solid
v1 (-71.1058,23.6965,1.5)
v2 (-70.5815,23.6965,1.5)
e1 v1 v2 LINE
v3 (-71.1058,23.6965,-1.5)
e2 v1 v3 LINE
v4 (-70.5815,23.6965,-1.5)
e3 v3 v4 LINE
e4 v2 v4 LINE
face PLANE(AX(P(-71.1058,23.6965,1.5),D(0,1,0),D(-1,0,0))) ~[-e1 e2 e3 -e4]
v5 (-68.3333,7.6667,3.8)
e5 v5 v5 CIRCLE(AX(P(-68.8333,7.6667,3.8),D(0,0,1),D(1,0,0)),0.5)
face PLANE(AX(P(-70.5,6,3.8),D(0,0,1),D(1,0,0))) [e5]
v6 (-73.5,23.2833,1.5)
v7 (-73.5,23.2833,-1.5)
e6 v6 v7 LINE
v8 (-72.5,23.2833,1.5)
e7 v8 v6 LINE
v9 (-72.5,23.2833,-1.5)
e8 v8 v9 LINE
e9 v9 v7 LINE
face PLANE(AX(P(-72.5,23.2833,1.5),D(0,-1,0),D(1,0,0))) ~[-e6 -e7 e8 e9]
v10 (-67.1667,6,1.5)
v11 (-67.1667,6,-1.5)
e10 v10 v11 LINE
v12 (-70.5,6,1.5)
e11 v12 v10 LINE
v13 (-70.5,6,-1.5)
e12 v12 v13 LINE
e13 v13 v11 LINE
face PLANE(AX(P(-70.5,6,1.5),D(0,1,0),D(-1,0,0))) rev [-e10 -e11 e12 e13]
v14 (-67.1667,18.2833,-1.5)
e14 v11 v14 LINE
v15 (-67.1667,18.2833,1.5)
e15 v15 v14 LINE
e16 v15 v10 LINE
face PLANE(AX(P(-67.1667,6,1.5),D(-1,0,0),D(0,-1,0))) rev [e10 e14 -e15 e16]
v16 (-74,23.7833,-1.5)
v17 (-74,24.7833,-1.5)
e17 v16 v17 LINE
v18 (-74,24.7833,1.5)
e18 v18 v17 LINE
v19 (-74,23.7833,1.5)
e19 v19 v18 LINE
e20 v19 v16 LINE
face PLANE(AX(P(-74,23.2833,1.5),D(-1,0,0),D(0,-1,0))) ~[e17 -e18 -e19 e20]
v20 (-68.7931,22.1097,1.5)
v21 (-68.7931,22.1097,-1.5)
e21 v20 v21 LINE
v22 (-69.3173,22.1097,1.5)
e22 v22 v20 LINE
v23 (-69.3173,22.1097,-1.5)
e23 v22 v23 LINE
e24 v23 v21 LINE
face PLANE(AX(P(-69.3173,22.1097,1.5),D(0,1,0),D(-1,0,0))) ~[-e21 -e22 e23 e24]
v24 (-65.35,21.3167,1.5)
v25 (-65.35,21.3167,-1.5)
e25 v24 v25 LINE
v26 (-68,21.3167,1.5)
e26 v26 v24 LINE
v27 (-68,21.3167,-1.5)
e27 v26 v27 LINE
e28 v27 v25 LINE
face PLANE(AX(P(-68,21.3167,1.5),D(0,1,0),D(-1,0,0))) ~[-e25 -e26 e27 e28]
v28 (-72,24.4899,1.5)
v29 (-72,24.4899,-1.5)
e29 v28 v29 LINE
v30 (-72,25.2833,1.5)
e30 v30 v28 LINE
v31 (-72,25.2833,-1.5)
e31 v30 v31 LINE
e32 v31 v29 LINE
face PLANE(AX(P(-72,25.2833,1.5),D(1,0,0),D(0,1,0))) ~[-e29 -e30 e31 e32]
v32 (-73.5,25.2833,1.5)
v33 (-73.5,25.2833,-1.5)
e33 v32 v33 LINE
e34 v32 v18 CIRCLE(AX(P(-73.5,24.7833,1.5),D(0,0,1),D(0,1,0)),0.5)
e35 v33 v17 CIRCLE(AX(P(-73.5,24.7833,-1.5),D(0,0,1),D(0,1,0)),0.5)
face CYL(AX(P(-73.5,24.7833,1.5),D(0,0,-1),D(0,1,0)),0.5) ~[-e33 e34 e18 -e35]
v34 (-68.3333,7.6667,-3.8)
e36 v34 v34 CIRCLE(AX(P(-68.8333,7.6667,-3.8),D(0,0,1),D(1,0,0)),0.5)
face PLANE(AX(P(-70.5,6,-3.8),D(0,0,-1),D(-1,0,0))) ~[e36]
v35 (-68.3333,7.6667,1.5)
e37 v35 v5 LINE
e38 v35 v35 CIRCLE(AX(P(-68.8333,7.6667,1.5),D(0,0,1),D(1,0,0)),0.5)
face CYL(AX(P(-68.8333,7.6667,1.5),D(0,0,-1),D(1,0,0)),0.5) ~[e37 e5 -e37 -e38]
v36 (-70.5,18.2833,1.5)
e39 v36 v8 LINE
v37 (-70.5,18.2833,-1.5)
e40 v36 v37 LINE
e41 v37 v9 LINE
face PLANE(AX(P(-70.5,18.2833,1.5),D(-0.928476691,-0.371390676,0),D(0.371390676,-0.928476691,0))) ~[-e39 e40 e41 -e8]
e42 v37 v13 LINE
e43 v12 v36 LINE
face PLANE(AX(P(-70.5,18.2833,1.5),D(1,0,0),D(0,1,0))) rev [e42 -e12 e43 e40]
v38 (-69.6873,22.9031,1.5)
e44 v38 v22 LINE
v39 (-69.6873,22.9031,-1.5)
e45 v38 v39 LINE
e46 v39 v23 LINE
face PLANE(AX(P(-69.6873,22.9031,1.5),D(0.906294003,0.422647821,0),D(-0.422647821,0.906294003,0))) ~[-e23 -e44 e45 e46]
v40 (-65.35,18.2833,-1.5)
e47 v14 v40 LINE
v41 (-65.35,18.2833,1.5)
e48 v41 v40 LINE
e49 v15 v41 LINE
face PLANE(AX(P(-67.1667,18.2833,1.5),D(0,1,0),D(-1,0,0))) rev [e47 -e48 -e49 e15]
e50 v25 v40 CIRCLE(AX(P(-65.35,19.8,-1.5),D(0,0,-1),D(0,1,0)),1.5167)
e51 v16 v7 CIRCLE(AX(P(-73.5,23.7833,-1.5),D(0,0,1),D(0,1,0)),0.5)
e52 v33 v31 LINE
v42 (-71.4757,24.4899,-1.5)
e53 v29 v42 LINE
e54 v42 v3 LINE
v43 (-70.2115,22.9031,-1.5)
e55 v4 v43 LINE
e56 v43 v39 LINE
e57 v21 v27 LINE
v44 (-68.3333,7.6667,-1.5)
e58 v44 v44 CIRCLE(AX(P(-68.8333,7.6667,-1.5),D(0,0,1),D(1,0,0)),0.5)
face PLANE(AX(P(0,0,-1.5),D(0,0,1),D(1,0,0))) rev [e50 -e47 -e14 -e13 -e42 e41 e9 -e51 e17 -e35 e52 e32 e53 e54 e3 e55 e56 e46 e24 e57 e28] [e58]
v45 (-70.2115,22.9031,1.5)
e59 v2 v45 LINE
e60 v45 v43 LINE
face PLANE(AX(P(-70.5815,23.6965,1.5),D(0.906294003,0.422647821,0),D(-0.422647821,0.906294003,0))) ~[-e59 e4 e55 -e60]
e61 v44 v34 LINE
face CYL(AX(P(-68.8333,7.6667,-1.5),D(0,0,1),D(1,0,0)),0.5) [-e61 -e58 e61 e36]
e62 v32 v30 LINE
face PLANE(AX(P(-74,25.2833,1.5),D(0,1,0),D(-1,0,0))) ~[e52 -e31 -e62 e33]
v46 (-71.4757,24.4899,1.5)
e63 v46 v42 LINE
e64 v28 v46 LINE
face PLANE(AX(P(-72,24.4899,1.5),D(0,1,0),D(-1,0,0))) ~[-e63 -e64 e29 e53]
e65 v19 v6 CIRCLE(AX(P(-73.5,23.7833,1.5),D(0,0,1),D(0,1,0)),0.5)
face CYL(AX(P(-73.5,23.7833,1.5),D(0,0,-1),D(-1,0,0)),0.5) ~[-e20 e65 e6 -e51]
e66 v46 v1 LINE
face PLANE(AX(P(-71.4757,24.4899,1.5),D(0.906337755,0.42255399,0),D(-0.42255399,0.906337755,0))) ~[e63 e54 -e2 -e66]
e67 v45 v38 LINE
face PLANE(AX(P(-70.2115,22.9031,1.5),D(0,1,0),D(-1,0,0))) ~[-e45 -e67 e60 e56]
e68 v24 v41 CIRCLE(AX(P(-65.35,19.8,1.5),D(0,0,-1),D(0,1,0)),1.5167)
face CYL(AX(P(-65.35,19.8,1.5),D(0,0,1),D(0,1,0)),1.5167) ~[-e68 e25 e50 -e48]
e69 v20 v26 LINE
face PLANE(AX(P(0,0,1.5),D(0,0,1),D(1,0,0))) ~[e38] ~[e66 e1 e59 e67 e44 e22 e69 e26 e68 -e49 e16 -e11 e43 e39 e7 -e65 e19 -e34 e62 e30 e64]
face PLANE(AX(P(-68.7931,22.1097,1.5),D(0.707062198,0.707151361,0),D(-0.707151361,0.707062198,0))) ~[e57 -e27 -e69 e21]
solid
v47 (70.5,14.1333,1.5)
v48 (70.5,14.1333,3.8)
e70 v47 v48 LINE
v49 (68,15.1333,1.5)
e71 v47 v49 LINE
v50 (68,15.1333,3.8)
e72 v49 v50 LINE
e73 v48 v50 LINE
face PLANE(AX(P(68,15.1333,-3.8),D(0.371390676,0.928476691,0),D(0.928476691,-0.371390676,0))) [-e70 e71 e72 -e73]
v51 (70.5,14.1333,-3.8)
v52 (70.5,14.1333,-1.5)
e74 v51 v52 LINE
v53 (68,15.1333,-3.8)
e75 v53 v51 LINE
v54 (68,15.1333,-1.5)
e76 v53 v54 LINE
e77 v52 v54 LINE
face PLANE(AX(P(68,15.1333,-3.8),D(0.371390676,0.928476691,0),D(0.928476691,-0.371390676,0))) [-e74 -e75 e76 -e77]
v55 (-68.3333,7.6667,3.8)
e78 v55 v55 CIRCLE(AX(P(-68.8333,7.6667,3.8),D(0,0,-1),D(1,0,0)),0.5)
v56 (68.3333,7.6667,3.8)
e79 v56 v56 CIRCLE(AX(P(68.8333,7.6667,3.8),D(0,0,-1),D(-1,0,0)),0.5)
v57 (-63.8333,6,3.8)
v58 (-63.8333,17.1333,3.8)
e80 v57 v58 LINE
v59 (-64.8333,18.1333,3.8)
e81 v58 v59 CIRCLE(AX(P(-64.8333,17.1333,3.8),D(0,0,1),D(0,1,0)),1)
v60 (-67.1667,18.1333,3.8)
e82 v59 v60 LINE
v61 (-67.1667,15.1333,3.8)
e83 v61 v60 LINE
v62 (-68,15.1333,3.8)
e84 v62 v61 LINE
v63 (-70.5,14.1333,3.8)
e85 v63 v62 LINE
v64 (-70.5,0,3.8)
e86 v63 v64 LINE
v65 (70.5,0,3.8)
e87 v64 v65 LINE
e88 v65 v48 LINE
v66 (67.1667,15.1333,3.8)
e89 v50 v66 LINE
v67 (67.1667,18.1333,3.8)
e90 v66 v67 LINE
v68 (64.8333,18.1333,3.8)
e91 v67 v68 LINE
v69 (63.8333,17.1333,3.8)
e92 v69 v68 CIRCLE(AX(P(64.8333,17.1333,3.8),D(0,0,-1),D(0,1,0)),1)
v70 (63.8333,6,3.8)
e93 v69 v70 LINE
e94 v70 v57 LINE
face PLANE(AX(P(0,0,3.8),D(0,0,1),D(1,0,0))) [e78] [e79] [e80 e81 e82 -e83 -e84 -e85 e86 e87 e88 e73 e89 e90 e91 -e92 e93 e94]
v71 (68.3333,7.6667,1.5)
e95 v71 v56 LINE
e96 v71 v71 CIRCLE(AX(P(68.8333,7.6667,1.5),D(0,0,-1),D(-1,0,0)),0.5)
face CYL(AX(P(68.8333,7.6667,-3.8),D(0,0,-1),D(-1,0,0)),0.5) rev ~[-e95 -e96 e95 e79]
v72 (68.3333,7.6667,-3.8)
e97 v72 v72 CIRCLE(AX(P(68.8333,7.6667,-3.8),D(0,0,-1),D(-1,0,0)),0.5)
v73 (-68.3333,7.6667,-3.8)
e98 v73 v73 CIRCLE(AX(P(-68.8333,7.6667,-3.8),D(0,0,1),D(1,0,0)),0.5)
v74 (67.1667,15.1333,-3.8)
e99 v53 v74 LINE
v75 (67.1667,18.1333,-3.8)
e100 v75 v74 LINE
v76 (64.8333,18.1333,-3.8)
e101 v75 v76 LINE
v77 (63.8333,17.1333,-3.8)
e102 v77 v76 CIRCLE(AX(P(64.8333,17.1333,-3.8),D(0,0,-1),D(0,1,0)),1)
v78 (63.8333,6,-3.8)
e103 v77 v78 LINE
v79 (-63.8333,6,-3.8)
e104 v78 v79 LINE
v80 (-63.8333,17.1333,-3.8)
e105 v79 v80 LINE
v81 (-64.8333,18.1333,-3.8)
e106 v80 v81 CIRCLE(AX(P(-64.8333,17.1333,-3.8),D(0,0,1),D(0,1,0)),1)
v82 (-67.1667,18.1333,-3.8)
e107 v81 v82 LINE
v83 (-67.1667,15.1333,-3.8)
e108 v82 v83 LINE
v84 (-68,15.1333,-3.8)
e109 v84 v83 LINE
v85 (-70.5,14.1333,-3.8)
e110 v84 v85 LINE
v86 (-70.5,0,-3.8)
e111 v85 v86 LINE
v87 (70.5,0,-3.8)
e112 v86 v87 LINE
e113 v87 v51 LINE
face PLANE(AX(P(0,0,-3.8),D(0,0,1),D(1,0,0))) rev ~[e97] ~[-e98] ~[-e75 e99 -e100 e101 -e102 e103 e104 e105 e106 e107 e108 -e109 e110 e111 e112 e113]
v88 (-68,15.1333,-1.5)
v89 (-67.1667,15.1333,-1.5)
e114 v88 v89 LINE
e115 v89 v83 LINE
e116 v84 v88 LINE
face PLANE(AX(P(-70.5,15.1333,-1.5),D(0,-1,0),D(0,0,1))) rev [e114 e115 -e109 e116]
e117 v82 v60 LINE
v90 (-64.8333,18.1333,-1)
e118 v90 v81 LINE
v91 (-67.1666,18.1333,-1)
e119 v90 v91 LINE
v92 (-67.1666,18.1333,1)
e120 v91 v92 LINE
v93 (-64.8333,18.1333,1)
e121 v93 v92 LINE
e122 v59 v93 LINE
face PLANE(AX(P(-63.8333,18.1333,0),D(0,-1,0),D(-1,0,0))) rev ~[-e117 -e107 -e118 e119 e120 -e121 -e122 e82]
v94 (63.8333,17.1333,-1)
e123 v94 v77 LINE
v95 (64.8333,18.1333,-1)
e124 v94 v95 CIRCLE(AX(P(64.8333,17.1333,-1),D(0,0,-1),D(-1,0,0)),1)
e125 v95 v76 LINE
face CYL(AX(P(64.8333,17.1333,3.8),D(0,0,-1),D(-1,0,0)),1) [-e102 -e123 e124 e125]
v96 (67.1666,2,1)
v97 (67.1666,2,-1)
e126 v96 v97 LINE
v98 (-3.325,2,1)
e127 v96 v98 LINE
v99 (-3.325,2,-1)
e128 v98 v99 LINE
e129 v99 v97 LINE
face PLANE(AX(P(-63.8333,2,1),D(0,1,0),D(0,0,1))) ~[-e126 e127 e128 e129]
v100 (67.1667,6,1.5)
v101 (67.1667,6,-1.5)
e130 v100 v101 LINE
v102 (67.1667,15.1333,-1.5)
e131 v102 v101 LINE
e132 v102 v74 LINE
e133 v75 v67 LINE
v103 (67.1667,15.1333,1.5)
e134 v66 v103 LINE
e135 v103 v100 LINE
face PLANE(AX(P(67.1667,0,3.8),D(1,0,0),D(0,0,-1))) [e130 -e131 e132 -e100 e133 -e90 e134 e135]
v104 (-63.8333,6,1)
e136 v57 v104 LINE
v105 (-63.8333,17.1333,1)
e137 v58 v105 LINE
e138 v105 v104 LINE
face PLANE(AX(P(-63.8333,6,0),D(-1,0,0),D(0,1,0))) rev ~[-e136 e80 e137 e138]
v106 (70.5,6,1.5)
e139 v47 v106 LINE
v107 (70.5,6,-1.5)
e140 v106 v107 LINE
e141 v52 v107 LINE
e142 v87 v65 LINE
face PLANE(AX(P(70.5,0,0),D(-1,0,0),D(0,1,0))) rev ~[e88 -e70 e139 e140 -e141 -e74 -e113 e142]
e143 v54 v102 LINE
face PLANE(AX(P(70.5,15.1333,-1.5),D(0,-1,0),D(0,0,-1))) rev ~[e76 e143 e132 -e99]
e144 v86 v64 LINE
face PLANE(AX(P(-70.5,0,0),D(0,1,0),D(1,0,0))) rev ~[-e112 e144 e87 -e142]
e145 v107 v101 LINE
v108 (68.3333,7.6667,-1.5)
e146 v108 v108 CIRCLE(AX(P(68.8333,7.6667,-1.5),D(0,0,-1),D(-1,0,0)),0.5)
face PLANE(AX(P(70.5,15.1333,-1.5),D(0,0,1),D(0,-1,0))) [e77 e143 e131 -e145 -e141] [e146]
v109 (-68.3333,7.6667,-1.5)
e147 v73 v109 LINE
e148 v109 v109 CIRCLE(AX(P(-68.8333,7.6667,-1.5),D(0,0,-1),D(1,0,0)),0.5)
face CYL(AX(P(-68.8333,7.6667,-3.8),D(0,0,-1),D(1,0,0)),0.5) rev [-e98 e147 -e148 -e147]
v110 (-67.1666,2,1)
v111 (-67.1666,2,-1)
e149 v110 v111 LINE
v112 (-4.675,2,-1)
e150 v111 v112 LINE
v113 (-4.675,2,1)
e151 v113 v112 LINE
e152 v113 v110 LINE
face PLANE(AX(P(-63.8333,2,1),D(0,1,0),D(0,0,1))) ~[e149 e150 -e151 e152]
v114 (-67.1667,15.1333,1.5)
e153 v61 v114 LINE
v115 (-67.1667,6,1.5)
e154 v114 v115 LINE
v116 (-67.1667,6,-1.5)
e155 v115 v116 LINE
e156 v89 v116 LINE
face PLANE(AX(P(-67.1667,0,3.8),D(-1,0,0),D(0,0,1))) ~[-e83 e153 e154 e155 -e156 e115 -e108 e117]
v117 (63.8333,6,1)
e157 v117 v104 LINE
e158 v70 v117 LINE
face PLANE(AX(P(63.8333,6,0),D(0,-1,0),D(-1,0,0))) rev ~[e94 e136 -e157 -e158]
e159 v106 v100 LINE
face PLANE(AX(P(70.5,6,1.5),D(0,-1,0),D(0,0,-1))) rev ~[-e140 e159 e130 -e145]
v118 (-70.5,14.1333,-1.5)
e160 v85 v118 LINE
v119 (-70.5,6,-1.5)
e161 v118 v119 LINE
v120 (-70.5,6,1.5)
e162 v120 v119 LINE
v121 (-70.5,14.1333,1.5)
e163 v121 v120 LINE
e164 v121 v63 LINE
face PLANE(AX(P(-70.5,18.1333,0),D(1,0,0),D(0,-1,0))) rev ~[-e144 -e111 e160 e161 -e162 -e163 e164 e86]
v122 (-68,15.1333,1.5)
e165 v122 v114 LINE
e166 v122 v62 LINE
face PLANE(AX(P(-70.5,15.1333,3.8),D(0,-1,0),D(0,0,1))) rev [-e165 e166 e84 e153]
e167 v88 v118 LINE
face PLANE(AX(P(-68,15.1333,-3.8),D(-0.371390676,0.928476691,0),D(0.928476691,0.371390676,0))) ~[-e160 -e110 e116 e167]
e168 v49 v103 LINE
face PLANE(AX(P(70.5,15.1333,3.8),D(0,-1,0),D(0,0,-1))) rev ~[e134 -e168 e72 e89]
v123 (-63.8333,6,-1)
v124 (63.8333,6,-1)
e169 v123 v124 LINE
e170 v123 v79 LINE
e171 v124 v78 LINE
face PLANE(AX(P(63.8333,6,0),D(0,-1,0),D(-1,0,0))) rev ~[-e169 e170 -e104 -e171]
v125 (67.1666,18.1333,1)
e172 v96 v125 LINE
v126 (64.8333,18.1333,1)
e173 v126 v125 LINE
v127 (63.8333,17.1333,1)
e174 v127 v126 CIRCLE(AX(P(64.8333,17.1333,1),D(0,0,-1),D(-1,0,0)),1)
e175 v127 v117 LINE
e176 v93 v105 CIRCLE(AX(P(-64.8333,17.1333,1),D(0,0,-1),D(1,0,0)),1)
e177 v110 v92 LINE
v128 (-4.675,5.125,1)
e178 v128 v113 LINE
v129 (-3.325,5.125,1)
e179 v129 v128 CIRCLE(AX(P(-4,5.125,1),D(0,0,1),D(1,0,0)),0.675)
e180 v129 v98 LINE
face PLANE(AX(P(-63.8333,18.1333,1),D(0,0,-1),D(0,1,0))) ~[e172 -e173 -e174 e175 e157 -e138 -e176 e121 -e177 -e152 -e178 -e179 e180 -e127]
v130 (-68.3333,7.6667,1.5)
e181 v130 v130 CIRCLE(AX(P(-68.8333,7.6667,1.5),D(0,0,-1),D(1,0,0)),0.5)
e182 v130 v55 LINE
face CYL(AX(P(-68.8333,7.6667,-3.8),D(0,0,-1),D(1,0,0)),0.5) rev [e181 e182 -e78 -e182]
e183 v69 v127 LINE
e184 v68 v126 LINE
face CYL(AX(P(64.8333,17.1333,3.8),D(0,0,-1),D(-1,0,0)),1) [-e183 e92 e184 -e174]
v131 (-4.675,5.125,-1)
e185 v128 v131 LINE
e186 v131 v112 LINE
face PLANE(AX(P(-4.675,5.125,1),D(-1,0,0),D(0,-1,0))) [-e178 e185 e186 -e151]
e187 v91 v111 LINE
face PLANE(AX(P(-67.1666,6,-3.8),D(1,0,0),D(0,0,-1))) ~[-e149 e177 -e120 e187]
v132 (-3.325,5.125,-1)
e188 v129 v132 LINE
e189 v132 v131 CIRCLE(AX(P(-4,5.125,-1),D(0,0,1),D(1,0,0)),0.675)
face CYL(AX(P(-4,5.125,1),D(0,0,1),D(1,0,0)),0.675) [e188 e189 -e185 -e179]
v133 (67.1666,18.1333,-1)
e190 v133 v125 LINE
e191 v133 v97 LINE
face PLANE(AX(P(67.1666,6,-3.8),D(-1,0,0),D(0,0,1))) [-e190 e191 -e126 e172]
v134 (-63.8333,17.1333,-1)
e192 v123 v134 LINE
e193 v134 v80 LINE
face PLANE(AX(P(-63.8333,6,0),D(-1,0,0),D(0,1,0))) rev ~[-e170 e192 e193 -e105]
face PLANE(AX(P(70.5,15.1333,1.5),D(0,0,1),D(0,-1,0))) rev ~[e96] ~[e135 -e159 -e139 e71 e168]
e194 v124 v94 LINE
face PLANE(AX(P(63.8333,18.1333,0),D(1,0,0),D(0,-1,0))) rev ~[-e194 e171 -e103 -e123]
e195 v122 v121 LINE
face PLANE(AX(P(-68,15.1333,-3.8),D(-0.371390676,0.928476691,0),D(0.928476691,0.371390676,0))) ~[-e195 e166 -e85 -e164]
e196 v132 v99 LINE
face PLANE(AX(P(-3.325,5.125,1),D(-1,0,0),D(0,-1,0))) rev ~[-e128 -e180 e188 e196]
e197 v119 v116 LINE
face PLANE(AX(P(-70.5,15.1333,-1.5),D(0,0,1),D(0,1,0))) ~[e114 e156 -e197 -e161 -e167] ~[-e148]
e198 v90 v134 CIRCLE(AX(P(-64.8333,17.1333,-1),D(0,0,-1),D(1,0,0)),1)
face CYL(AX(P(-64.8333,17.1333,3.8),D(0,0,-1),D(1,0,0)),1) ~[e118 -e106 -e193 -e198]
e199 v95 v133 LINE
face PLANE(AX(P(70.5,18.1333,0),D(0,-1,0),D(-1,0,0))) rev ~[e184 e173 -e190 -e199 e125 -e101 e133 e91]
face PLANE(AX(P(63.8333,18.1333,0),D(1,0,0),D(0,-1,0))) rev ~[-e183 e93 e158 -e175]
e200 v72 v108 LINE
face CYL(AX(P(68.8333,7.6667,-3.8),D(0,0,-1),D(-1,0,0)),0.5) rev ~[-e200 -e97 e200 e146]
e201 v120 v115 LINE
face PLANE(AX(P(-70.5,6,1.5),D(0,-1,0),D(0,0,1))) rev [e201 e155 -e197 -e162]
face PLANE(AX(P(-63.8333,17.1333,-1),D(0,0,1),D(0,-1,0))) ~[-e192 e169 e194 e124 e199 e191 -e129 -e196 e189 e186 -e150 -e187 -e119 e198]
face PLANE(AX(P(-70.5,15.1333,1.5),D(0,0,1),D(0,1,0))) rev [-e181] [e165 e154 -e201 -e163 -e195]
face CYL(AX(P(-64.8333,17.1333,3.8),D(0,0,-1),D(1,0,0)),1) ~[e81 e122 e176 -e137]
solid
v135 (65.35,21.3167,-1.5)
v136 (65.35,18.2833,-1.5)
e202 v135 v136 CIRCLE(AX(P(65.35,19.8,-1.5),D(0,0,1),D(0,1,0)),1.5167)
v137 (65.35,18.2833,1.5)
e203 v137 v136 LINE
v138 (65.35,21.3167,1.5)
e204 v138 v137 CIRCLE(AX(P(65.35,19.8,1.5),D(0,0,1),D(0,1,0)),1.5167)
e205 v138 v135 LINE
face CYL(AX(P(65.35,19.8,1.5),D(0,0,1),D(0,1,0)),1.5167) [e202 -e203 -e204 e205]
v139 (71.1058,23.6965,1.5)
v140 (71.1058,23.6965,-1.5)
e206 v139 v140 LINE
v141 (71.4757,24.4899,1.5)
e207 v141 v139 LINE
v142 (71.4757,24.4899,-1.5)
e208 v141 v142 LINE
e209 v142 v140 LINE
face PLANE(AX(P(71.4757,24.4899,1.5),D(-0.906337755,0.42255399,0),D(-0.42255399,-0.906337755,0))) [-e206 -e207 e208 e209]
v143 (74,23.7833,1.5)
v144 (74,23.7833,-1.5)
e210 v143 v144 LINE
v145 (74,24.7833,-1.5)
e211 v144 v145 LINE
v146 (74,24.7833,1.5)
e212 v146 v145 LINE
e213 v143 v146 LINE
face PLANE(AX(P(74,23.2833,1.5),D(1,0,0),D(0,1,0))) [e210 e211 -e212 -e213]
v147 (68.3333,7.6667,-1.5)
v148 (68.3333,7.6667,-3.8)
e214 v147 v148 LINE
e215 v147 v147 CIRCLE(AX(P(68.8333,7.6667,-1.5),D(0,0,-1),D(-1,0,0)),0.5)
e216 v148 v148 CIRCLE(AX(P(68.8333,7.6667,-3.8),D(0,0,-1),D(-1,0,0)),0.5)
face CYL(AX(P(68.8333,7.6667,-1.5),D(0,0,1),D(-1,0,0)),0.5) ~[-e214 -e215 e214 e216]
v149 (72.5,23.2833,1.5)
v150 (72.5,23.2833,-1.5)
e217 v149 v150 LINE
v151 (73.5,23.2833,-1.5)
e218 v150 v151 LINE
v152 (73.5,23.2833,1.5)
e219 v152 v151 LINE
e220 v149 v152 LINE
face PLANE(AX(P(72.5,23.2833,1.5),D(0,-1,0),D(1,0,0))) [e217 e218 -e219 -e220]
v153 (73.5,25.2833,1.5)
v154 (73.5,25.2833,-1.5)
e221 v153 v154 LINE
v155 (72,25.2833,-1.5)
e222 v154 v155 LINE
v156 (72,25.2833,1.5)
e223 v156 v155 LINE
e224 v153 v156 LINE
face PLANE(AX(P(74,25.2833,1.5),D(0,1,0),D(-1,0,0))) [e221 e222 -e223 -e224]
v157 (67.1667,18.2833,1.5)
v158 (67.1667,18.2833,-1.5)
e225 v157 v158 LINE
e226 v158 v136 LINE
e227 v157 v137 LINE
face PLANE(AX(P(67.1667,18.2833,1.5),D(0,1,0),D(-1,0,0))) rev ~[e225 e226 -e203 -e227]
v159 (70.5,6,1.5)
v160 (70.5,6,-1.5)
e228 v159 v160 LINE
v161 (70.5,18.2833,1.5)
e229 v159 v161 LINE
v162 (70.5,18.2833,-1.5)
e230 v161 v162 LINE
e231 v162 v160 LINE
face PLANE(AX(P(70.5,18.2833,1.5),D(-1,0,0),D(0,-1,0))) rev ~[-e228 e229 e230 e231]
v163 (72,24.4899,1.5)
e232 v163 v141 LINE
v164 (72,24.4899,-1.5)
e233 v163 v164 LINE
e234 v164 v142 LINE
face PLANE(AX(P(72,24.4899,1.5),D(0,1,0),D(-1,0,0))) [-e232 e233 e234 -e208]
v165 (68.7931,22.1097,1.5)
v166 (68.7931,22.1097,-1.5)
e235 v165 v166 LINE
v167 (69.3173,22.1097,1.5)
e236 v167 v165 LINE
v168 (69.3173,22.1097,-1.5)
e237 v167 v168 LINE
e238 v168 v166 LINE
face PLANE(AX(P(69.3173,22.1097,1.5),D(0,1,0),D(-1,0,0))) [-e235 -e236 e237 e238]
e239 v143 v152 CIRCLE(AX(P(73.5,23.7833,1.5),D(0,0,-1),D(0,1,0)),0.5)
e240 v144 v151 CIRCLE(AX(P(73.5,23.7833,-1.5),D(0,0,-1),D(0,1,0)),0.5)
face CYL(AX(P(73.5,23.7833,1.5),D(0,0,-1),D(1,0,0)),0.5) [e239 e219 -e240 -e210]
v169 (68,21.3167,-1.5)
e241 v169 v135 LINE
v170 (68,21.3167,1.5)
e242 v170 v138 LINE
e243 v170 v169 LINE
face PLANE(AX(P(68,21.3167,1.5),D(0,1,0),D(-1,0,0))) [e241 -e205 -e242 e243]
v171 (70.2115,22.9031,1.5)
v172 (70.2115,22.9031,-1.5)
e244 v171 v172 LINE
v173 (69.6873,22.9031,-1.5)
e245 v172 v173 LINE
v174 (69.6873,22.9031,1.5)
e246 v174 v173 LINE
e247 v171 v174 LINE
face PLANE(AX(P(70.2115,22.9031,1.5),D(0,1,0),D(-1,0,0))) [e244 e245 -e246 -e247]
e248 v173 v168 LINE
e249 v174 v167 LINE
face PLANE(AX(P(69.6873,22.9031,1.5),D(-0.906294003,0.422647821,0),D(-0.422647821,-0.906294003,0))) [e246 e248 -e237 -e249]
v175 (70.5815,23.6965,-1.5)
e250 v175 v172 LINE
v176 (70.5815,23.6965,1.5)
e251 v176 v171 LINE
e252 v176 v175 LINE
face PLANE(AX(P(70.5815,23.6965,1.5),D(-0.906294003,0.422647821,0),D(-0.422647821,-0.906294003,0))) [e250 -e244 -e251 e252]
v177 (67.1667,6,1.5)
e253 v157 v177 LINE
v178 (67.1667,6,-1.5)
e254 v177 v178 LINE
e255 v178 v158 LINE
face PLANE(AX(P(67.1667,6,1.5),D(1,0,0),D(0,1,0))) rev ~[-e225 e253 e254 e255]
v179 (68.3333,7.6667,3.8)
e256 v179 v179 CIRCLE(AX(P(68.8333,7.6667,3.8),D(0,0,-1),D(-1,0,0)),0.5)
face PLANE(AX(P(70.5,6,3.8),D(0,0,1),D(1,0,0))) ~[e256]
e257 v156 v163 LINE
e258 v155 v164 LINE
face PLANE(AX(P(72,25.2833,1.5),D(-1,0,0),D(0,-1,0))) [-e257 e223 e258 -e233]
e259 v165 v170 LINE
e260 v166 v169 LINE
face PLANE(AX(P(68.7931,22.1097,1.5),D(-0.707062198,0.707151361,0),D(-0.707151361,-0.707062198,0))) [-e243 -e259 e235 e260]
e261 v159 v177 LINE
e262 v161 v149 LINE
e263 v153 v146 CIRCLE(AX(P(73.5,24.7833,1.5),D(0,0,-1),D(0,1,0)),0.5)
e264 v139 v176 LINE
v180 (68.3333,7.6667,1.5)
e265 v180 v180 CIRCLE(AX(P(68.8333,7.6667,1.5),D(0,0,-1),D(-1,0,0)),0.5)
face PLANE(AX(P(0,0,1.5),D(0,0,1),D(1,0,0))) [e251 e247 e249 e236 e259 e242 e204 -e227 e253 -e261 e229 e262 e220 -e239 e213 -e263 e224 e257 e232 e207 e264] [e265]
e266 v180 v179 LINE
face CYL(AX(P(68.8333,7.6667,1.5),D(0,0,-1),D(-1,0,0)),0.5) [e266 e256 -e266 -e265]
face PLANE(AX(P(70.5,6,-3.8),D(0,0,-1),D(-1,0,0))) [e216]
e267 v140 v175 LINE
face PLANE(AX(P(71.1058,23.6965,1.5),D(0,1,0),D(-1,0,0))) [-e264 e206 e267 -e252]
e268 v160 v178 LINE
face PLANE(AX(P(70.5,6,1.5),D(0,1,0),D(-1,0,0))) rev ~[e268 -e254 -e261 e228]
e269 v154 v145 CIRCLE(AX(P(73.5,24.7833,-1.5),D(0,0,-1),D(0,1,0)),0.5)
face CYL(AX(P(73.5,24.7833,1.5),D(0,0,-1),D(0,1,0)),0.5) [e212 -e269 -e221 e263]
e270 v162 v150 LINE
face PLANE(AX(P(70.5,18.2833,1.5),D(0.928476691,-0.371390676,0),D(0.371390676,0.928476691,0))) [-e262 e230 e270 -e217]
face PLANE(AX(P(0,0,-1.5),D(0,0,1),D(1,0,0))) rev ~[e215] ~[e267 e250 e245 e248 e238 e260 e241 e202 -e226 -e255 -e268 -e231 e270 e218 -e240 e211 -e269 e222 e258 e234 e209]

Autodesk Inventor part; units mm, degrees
ref_plane "YZ Plane" through (0, 0, 0) normal (1, 0, 0) x (0, 1, 0)
ref_plane "XZ Plane" through (0, 0, 0) normal (0, 1, 0) x (-1, 0, 0)
ref_plane "XY Plane" through (0, 0, 0) normal (0, 0, 1) x (1, 0, 0)
sketch "Sketch1" plane through (0, 0, 0) normal (0, 0, 1) x (1, 0, 0)
  line L0 (-70.5, 18.1333) -> (-70.5, 0)
  line L1 (-70.5, 0) -> (70.5, 0)
  line L2 (70.5, 0) -> (70.5, 18.1333)
  line L3 (70.5, 18.1333) -> (63.8333, 18.1333)
  line L4 (63.8333, 18.1333) -> (63.8333, 6)
  line L5 (63.8333, 6) -> (-63.8333, 6)
  line L6 (-63.8333, 6) -> (-63.8333, 18.1333)
  line L7 (-63.8333, 18.1333) -> (-70.5, 18.1333)
  point P0 (0, 0)
  point P1 (0, 0)
  dimension "d0" = 6.6667
  dimension "d1" = 141
  dimension "d2" = 6
  dimension "d3" = 18.1333
extrude "Extrusion1" add sketch "Sketch1" along normal mid plane 7.6
sketch "Sketch2" plane through (70.5, 0, 3.8) normal (1, 0, 0) x (0, 0, -1)
  line L0 (2.3, 15.1333) -> (2.3, 6)
  line L1 (0, 15.1333) -> (2.3, 15.1333)
  line L2 (5.3, 15.1333) -> (5.3, 6)
  line L3 (5.3, 15.1333) -> (7.6, 15.1333)
  line L4 (7.6, 18.1333) -> (0, 18.1333) projected
  line L5 (0, 0) -> (0, 18.1333) projected
  line L6 (7.6, 18.1333) -> (0, 18.1333) projected
  line L7 (0, 0) -> (0, 18.1333) projected
  line L8 (7.6, 0) -> (0, 0) projected
  line L9 (7.6, 18.1333) -> (7.6, 0) projected
  line L10 (7.6, 18.1333) -> (7.6, 0) projected
  line L11 (7.6, 0) -> (0, 0) projected
  line L12 (2.3, 6) -> (5.3, 6)
  line L13 (7.6, 15.1333) -> (7.6, 18.1333)
  line L14 (7.6, 18.1333) -> (0, 18.1333)
  line L15 (0, 15.1333) -> (0, 18.1333)
  point P0 (3.8, 0)
  point P1 (3.8, 6)
  point P2 (3.8, 0)
  dimension "d6" = 3
  dimension "d7" = 3
  dimension "d8" = 6
extrude "Extrusion2" cut sketch "Sketch2" against normal blind 3.3333 contours L1 L5 L4 L9 L3 L2 L12 L0
sketch "Sketch3" plane through (0, 0, -3.8) normal (0, 0, -1) x (-1, 0, 0)
  line L0 (-70.5, 15.1333) -> (-67.1667, 15.1333) projected
  line L1 (-68, 15.1333) -> (-70.5, 14.1333)
  line L2 (-70.5, 15.1333) -> (-70.5, 6) projected
  line L3 (-70.5, 14.1333) -> (-70.5, 15.1333)
  line L4 (-70.5, 15.1333) -> (-68, 15.1333)
  point P0 (0, 0)
  dimension "d11" = 2.5
  dimension "d12" = 1
extrude "Extrusion3" cut sketch "Sketch3" against normal through all
sketch "Sketch4" plane through (0, 0, -3.8) normal (0, 0, -1) x (-1, 0, 0)
  circle A0 centre (-68.8333, 7.6667) radius 0.5
  line L0 (-70.5, 0) -> (-70.5, 14.1333) projected
  line L1 (-70.5, 14.1333) -> (-67.1667, 14.1333) construction
  line L2 (-70.5, 6) -> (-67.1667, 6) projected
  line L3 (-67.1667, 15.1333) -> (-67.1667, 6) projected
  point P0 (0, 0)
  point P1 (-68.8333, 14.1333)
  dimension "d15" = 1
  dimension "d16" = 1.6667
extrude "Extrusion4" cut sketch "Sketch4" against normal through all
fillet "Fillet2" radius 1 1 edges at (63.8333, 18.1333, 0)
sketch "Sketch7" plane through (63.8333, 6, -3.8) normal (-1, 0, 0) x (0, 0, 1)
  line L0 (2.8, 12.1333) -> (4.8, 12.1333)
  line L1 (4.8, 12.1333) -> (4.8, -4)
  line L2 (4.8, -4) -> (2.8, -4)
  line L3 (2.8, -4) -> (2.8, 12.1333)
  line L4 (0, 0) -> (7.6, 0) projected
  line L5 (0, 11.1333) -> (7.6, 11.1333) projected
  line L6 (7.6, 12.1333) -> (0, 12.1333) projected
  point P0 (3.8, -6)
  point P1 (3.8, -4)
  point P2 (3.8, 11.1333)
  dimension "d33" = 4
  dimension "d34" = 2
extrude "Extrusion7" cut sketch "Sketch7" against normal blind 3.3333
mirror "Mirror2" about plane through (0, 0, 0) normal (1, 0, 0) of "Extrusion2", "Extrusion3", "Extrusion4", "Fillet2", "Extrusion7"
sketch "Sketch5" plane through (0, 0, 0) normal (0, 0, 1) x (1, 0, 0)
  line L0 (70.5, 18.2833) -> (70.5, 6)
  line L1 (70.5, 6) -> (67.1667, 6)
  line L2 (67.1667, 6) -> (67.1667, 18.2833)
  line L3 (70.5, 18.2833) -> (72.5, 23.2833)
  line L4 (72.5, 23.2833) -> (74, 23.2833)
  line L5 (74, 23.2833) -> (74, 25.2833)
  line L6 (74, 25.2833) -> (72, 25.2833)
  line L7 (68, 21.3167) -> (65.35, 21.3167)
  line L8 (67.1667, 18.2833) -> (65.35, 18.2833)
  arc A0 (65.35, 21.3167) -> (65.35, 18.2833) centre (65.35, 19.8) ccw
  line L9 (63.8333, 18.1333) -> (67.1667, 18.1333) projected
  line L10 (70.5, 6) -> (67.1667, 6) projected
  line L11 (67.1667, 15.1333) -> (67.1667, 6) projected
  line L12 (70.5, 14.1333) -> (70.5, 0) projected
  line L13 (63.8333, 6) -> (63.8333, 18.1333) projected
  line L14 (70.5, 0) -> (-70.5, 0) projected
  line L15 (70.5, 0) -> (70.5, 14.1333) projected
  line L16 (70.5, 2) -> (-70.5, 2) construction
  line L17 (-70.5, 0) -> (-70.5, 18.1333) projected
  line L18 (-63.8333, 6) -> (63.8333, 6) projected
  line L19 (72, 25.2833) -> (72, 24.4899)
  line L20 (72, 24.4899) -> (71.4757, 24.4899)
  line L21 (71.4757, 24.4899) -> (71.1058, 23.6965)
  line L22 (71.1058, 23.6965) -> (70.5815, 23.6965)
  line L23 (70.5815, 23.6965) -> (70.2115, 22.9031)
  line L24 (70.2115, 22.9031) -> (69.6873, 22.9031)
  line L25 (69.6873, 22.9031) -> (69.3173, 22.1097)
  line L26 (69.3173, 22.1097) -> (68.7931, 22.1097)
  line L27 (68.7931, 22.1097) -> (68, 21.3167)
  point P0 (0, 0)
  point P1 (68, 15.1333)
  point P2 (-70.5, 14.1333)
  point P3 (66.2583, 18.2833)
  dimension "d19" = 0.15
  dimension "d22" = 4
  dimension "d23" = 17.8
  dimension "d42" = 5
  dimension "d43" = 1.5
  dimension "d44" = 2
  dimension "d45" = 2
  dimension "d46" = 90
  dimension "d49" = 0.7934
  dimension "d50" = 0.7934
  dimension "d51" = 0.7934
  dimension "d52" = 0.7934
  dimension "d53" = 135
  dimension "d54" = 2
  dimension "d55" = 115
extrude "Extrusion5" add sketch "Sketch5" against normal up to surface (3 mm away) from surface at 1.5 separate body
fillet "Fillet1" radius 0.5 2 edges at (74, 25.2833, 0) (74, 23.2833, 0)
sketch "Sketch6" plane through (70.5, 6, -1.5) normal (0, 0, -1) x (-1, 0, 0)
  circle A0 centre (1.6667, 1.6667) radius 0.5
  circle A1 centre (1.6667, 1.6667) radius 0.5 projected
  point P0 (70.5, -6)
extrude "Extrusion6" add sketch "Sketch6" along normal up to surface (2.3 mm away) bodies 2
mirror "Mirror4" about plane through (0, 0, 0) normal (0, 0, 1) of "Extrusion6" bodies 2
mirror "Mirror3" about plane through (0, 0, 0) normal (1, 0, 0) of "Extrusion5", "Fillet1", "Extrusion6", "Mirror4" bodies 2
sketch "Sketch8" plane through (-63.8333, 6, 3.8) normal (0, 1, 0) x (1, 0, 0)
  line L0 (127.6667, 2.8) -> (0, 2.8)
  line L1 (0, 2.8) -> (0, 4.8)
  line L2 (0, 4.8) -> (127.6667, 4.8)
  line L3 (127.6667, 4.8) -> (127.6667, 2.8)
  point P0 (63.8333, 3.8)
extrude "Extrusion8" cut sketch "Sketch8" against normal up to surface (4 mm away) bodies 1
sketch "Sketch9" plane through (0, 0, 0) normal (0, 0, 1) x (1, 0, 0)
  line L0 (67.1667, 2) -> (-67.1667, 2) projected
  line L1 (-3.325, 2) -> (-4.675, 2)
  line L2 (-4.675, 5.125) -> (-4.675, 2)
  line L3 (-3.325, 5.125) -> (-3.325, 2)
  arc A0 (-3.325, 5.125) -> (-4.675, 5.125) centre (-4, 5.125) ccw
  line L4 (-3.5, 5.8) -> (-4.5, 5.8) construction
  point P0 (0, 0)
  point P1 (-4, 5.8)
  dimension "d39" = 1.35
  dimension "d40" = 1
  dimension "d41" = 3.8
  dimension "d57" = 4
extrude "Extrusion9" add sketch "Sketch9" against normal up to surface (2 mm away) from surface at 1 bodies 1
properties part number "MO-237 10005639-11109LF"
